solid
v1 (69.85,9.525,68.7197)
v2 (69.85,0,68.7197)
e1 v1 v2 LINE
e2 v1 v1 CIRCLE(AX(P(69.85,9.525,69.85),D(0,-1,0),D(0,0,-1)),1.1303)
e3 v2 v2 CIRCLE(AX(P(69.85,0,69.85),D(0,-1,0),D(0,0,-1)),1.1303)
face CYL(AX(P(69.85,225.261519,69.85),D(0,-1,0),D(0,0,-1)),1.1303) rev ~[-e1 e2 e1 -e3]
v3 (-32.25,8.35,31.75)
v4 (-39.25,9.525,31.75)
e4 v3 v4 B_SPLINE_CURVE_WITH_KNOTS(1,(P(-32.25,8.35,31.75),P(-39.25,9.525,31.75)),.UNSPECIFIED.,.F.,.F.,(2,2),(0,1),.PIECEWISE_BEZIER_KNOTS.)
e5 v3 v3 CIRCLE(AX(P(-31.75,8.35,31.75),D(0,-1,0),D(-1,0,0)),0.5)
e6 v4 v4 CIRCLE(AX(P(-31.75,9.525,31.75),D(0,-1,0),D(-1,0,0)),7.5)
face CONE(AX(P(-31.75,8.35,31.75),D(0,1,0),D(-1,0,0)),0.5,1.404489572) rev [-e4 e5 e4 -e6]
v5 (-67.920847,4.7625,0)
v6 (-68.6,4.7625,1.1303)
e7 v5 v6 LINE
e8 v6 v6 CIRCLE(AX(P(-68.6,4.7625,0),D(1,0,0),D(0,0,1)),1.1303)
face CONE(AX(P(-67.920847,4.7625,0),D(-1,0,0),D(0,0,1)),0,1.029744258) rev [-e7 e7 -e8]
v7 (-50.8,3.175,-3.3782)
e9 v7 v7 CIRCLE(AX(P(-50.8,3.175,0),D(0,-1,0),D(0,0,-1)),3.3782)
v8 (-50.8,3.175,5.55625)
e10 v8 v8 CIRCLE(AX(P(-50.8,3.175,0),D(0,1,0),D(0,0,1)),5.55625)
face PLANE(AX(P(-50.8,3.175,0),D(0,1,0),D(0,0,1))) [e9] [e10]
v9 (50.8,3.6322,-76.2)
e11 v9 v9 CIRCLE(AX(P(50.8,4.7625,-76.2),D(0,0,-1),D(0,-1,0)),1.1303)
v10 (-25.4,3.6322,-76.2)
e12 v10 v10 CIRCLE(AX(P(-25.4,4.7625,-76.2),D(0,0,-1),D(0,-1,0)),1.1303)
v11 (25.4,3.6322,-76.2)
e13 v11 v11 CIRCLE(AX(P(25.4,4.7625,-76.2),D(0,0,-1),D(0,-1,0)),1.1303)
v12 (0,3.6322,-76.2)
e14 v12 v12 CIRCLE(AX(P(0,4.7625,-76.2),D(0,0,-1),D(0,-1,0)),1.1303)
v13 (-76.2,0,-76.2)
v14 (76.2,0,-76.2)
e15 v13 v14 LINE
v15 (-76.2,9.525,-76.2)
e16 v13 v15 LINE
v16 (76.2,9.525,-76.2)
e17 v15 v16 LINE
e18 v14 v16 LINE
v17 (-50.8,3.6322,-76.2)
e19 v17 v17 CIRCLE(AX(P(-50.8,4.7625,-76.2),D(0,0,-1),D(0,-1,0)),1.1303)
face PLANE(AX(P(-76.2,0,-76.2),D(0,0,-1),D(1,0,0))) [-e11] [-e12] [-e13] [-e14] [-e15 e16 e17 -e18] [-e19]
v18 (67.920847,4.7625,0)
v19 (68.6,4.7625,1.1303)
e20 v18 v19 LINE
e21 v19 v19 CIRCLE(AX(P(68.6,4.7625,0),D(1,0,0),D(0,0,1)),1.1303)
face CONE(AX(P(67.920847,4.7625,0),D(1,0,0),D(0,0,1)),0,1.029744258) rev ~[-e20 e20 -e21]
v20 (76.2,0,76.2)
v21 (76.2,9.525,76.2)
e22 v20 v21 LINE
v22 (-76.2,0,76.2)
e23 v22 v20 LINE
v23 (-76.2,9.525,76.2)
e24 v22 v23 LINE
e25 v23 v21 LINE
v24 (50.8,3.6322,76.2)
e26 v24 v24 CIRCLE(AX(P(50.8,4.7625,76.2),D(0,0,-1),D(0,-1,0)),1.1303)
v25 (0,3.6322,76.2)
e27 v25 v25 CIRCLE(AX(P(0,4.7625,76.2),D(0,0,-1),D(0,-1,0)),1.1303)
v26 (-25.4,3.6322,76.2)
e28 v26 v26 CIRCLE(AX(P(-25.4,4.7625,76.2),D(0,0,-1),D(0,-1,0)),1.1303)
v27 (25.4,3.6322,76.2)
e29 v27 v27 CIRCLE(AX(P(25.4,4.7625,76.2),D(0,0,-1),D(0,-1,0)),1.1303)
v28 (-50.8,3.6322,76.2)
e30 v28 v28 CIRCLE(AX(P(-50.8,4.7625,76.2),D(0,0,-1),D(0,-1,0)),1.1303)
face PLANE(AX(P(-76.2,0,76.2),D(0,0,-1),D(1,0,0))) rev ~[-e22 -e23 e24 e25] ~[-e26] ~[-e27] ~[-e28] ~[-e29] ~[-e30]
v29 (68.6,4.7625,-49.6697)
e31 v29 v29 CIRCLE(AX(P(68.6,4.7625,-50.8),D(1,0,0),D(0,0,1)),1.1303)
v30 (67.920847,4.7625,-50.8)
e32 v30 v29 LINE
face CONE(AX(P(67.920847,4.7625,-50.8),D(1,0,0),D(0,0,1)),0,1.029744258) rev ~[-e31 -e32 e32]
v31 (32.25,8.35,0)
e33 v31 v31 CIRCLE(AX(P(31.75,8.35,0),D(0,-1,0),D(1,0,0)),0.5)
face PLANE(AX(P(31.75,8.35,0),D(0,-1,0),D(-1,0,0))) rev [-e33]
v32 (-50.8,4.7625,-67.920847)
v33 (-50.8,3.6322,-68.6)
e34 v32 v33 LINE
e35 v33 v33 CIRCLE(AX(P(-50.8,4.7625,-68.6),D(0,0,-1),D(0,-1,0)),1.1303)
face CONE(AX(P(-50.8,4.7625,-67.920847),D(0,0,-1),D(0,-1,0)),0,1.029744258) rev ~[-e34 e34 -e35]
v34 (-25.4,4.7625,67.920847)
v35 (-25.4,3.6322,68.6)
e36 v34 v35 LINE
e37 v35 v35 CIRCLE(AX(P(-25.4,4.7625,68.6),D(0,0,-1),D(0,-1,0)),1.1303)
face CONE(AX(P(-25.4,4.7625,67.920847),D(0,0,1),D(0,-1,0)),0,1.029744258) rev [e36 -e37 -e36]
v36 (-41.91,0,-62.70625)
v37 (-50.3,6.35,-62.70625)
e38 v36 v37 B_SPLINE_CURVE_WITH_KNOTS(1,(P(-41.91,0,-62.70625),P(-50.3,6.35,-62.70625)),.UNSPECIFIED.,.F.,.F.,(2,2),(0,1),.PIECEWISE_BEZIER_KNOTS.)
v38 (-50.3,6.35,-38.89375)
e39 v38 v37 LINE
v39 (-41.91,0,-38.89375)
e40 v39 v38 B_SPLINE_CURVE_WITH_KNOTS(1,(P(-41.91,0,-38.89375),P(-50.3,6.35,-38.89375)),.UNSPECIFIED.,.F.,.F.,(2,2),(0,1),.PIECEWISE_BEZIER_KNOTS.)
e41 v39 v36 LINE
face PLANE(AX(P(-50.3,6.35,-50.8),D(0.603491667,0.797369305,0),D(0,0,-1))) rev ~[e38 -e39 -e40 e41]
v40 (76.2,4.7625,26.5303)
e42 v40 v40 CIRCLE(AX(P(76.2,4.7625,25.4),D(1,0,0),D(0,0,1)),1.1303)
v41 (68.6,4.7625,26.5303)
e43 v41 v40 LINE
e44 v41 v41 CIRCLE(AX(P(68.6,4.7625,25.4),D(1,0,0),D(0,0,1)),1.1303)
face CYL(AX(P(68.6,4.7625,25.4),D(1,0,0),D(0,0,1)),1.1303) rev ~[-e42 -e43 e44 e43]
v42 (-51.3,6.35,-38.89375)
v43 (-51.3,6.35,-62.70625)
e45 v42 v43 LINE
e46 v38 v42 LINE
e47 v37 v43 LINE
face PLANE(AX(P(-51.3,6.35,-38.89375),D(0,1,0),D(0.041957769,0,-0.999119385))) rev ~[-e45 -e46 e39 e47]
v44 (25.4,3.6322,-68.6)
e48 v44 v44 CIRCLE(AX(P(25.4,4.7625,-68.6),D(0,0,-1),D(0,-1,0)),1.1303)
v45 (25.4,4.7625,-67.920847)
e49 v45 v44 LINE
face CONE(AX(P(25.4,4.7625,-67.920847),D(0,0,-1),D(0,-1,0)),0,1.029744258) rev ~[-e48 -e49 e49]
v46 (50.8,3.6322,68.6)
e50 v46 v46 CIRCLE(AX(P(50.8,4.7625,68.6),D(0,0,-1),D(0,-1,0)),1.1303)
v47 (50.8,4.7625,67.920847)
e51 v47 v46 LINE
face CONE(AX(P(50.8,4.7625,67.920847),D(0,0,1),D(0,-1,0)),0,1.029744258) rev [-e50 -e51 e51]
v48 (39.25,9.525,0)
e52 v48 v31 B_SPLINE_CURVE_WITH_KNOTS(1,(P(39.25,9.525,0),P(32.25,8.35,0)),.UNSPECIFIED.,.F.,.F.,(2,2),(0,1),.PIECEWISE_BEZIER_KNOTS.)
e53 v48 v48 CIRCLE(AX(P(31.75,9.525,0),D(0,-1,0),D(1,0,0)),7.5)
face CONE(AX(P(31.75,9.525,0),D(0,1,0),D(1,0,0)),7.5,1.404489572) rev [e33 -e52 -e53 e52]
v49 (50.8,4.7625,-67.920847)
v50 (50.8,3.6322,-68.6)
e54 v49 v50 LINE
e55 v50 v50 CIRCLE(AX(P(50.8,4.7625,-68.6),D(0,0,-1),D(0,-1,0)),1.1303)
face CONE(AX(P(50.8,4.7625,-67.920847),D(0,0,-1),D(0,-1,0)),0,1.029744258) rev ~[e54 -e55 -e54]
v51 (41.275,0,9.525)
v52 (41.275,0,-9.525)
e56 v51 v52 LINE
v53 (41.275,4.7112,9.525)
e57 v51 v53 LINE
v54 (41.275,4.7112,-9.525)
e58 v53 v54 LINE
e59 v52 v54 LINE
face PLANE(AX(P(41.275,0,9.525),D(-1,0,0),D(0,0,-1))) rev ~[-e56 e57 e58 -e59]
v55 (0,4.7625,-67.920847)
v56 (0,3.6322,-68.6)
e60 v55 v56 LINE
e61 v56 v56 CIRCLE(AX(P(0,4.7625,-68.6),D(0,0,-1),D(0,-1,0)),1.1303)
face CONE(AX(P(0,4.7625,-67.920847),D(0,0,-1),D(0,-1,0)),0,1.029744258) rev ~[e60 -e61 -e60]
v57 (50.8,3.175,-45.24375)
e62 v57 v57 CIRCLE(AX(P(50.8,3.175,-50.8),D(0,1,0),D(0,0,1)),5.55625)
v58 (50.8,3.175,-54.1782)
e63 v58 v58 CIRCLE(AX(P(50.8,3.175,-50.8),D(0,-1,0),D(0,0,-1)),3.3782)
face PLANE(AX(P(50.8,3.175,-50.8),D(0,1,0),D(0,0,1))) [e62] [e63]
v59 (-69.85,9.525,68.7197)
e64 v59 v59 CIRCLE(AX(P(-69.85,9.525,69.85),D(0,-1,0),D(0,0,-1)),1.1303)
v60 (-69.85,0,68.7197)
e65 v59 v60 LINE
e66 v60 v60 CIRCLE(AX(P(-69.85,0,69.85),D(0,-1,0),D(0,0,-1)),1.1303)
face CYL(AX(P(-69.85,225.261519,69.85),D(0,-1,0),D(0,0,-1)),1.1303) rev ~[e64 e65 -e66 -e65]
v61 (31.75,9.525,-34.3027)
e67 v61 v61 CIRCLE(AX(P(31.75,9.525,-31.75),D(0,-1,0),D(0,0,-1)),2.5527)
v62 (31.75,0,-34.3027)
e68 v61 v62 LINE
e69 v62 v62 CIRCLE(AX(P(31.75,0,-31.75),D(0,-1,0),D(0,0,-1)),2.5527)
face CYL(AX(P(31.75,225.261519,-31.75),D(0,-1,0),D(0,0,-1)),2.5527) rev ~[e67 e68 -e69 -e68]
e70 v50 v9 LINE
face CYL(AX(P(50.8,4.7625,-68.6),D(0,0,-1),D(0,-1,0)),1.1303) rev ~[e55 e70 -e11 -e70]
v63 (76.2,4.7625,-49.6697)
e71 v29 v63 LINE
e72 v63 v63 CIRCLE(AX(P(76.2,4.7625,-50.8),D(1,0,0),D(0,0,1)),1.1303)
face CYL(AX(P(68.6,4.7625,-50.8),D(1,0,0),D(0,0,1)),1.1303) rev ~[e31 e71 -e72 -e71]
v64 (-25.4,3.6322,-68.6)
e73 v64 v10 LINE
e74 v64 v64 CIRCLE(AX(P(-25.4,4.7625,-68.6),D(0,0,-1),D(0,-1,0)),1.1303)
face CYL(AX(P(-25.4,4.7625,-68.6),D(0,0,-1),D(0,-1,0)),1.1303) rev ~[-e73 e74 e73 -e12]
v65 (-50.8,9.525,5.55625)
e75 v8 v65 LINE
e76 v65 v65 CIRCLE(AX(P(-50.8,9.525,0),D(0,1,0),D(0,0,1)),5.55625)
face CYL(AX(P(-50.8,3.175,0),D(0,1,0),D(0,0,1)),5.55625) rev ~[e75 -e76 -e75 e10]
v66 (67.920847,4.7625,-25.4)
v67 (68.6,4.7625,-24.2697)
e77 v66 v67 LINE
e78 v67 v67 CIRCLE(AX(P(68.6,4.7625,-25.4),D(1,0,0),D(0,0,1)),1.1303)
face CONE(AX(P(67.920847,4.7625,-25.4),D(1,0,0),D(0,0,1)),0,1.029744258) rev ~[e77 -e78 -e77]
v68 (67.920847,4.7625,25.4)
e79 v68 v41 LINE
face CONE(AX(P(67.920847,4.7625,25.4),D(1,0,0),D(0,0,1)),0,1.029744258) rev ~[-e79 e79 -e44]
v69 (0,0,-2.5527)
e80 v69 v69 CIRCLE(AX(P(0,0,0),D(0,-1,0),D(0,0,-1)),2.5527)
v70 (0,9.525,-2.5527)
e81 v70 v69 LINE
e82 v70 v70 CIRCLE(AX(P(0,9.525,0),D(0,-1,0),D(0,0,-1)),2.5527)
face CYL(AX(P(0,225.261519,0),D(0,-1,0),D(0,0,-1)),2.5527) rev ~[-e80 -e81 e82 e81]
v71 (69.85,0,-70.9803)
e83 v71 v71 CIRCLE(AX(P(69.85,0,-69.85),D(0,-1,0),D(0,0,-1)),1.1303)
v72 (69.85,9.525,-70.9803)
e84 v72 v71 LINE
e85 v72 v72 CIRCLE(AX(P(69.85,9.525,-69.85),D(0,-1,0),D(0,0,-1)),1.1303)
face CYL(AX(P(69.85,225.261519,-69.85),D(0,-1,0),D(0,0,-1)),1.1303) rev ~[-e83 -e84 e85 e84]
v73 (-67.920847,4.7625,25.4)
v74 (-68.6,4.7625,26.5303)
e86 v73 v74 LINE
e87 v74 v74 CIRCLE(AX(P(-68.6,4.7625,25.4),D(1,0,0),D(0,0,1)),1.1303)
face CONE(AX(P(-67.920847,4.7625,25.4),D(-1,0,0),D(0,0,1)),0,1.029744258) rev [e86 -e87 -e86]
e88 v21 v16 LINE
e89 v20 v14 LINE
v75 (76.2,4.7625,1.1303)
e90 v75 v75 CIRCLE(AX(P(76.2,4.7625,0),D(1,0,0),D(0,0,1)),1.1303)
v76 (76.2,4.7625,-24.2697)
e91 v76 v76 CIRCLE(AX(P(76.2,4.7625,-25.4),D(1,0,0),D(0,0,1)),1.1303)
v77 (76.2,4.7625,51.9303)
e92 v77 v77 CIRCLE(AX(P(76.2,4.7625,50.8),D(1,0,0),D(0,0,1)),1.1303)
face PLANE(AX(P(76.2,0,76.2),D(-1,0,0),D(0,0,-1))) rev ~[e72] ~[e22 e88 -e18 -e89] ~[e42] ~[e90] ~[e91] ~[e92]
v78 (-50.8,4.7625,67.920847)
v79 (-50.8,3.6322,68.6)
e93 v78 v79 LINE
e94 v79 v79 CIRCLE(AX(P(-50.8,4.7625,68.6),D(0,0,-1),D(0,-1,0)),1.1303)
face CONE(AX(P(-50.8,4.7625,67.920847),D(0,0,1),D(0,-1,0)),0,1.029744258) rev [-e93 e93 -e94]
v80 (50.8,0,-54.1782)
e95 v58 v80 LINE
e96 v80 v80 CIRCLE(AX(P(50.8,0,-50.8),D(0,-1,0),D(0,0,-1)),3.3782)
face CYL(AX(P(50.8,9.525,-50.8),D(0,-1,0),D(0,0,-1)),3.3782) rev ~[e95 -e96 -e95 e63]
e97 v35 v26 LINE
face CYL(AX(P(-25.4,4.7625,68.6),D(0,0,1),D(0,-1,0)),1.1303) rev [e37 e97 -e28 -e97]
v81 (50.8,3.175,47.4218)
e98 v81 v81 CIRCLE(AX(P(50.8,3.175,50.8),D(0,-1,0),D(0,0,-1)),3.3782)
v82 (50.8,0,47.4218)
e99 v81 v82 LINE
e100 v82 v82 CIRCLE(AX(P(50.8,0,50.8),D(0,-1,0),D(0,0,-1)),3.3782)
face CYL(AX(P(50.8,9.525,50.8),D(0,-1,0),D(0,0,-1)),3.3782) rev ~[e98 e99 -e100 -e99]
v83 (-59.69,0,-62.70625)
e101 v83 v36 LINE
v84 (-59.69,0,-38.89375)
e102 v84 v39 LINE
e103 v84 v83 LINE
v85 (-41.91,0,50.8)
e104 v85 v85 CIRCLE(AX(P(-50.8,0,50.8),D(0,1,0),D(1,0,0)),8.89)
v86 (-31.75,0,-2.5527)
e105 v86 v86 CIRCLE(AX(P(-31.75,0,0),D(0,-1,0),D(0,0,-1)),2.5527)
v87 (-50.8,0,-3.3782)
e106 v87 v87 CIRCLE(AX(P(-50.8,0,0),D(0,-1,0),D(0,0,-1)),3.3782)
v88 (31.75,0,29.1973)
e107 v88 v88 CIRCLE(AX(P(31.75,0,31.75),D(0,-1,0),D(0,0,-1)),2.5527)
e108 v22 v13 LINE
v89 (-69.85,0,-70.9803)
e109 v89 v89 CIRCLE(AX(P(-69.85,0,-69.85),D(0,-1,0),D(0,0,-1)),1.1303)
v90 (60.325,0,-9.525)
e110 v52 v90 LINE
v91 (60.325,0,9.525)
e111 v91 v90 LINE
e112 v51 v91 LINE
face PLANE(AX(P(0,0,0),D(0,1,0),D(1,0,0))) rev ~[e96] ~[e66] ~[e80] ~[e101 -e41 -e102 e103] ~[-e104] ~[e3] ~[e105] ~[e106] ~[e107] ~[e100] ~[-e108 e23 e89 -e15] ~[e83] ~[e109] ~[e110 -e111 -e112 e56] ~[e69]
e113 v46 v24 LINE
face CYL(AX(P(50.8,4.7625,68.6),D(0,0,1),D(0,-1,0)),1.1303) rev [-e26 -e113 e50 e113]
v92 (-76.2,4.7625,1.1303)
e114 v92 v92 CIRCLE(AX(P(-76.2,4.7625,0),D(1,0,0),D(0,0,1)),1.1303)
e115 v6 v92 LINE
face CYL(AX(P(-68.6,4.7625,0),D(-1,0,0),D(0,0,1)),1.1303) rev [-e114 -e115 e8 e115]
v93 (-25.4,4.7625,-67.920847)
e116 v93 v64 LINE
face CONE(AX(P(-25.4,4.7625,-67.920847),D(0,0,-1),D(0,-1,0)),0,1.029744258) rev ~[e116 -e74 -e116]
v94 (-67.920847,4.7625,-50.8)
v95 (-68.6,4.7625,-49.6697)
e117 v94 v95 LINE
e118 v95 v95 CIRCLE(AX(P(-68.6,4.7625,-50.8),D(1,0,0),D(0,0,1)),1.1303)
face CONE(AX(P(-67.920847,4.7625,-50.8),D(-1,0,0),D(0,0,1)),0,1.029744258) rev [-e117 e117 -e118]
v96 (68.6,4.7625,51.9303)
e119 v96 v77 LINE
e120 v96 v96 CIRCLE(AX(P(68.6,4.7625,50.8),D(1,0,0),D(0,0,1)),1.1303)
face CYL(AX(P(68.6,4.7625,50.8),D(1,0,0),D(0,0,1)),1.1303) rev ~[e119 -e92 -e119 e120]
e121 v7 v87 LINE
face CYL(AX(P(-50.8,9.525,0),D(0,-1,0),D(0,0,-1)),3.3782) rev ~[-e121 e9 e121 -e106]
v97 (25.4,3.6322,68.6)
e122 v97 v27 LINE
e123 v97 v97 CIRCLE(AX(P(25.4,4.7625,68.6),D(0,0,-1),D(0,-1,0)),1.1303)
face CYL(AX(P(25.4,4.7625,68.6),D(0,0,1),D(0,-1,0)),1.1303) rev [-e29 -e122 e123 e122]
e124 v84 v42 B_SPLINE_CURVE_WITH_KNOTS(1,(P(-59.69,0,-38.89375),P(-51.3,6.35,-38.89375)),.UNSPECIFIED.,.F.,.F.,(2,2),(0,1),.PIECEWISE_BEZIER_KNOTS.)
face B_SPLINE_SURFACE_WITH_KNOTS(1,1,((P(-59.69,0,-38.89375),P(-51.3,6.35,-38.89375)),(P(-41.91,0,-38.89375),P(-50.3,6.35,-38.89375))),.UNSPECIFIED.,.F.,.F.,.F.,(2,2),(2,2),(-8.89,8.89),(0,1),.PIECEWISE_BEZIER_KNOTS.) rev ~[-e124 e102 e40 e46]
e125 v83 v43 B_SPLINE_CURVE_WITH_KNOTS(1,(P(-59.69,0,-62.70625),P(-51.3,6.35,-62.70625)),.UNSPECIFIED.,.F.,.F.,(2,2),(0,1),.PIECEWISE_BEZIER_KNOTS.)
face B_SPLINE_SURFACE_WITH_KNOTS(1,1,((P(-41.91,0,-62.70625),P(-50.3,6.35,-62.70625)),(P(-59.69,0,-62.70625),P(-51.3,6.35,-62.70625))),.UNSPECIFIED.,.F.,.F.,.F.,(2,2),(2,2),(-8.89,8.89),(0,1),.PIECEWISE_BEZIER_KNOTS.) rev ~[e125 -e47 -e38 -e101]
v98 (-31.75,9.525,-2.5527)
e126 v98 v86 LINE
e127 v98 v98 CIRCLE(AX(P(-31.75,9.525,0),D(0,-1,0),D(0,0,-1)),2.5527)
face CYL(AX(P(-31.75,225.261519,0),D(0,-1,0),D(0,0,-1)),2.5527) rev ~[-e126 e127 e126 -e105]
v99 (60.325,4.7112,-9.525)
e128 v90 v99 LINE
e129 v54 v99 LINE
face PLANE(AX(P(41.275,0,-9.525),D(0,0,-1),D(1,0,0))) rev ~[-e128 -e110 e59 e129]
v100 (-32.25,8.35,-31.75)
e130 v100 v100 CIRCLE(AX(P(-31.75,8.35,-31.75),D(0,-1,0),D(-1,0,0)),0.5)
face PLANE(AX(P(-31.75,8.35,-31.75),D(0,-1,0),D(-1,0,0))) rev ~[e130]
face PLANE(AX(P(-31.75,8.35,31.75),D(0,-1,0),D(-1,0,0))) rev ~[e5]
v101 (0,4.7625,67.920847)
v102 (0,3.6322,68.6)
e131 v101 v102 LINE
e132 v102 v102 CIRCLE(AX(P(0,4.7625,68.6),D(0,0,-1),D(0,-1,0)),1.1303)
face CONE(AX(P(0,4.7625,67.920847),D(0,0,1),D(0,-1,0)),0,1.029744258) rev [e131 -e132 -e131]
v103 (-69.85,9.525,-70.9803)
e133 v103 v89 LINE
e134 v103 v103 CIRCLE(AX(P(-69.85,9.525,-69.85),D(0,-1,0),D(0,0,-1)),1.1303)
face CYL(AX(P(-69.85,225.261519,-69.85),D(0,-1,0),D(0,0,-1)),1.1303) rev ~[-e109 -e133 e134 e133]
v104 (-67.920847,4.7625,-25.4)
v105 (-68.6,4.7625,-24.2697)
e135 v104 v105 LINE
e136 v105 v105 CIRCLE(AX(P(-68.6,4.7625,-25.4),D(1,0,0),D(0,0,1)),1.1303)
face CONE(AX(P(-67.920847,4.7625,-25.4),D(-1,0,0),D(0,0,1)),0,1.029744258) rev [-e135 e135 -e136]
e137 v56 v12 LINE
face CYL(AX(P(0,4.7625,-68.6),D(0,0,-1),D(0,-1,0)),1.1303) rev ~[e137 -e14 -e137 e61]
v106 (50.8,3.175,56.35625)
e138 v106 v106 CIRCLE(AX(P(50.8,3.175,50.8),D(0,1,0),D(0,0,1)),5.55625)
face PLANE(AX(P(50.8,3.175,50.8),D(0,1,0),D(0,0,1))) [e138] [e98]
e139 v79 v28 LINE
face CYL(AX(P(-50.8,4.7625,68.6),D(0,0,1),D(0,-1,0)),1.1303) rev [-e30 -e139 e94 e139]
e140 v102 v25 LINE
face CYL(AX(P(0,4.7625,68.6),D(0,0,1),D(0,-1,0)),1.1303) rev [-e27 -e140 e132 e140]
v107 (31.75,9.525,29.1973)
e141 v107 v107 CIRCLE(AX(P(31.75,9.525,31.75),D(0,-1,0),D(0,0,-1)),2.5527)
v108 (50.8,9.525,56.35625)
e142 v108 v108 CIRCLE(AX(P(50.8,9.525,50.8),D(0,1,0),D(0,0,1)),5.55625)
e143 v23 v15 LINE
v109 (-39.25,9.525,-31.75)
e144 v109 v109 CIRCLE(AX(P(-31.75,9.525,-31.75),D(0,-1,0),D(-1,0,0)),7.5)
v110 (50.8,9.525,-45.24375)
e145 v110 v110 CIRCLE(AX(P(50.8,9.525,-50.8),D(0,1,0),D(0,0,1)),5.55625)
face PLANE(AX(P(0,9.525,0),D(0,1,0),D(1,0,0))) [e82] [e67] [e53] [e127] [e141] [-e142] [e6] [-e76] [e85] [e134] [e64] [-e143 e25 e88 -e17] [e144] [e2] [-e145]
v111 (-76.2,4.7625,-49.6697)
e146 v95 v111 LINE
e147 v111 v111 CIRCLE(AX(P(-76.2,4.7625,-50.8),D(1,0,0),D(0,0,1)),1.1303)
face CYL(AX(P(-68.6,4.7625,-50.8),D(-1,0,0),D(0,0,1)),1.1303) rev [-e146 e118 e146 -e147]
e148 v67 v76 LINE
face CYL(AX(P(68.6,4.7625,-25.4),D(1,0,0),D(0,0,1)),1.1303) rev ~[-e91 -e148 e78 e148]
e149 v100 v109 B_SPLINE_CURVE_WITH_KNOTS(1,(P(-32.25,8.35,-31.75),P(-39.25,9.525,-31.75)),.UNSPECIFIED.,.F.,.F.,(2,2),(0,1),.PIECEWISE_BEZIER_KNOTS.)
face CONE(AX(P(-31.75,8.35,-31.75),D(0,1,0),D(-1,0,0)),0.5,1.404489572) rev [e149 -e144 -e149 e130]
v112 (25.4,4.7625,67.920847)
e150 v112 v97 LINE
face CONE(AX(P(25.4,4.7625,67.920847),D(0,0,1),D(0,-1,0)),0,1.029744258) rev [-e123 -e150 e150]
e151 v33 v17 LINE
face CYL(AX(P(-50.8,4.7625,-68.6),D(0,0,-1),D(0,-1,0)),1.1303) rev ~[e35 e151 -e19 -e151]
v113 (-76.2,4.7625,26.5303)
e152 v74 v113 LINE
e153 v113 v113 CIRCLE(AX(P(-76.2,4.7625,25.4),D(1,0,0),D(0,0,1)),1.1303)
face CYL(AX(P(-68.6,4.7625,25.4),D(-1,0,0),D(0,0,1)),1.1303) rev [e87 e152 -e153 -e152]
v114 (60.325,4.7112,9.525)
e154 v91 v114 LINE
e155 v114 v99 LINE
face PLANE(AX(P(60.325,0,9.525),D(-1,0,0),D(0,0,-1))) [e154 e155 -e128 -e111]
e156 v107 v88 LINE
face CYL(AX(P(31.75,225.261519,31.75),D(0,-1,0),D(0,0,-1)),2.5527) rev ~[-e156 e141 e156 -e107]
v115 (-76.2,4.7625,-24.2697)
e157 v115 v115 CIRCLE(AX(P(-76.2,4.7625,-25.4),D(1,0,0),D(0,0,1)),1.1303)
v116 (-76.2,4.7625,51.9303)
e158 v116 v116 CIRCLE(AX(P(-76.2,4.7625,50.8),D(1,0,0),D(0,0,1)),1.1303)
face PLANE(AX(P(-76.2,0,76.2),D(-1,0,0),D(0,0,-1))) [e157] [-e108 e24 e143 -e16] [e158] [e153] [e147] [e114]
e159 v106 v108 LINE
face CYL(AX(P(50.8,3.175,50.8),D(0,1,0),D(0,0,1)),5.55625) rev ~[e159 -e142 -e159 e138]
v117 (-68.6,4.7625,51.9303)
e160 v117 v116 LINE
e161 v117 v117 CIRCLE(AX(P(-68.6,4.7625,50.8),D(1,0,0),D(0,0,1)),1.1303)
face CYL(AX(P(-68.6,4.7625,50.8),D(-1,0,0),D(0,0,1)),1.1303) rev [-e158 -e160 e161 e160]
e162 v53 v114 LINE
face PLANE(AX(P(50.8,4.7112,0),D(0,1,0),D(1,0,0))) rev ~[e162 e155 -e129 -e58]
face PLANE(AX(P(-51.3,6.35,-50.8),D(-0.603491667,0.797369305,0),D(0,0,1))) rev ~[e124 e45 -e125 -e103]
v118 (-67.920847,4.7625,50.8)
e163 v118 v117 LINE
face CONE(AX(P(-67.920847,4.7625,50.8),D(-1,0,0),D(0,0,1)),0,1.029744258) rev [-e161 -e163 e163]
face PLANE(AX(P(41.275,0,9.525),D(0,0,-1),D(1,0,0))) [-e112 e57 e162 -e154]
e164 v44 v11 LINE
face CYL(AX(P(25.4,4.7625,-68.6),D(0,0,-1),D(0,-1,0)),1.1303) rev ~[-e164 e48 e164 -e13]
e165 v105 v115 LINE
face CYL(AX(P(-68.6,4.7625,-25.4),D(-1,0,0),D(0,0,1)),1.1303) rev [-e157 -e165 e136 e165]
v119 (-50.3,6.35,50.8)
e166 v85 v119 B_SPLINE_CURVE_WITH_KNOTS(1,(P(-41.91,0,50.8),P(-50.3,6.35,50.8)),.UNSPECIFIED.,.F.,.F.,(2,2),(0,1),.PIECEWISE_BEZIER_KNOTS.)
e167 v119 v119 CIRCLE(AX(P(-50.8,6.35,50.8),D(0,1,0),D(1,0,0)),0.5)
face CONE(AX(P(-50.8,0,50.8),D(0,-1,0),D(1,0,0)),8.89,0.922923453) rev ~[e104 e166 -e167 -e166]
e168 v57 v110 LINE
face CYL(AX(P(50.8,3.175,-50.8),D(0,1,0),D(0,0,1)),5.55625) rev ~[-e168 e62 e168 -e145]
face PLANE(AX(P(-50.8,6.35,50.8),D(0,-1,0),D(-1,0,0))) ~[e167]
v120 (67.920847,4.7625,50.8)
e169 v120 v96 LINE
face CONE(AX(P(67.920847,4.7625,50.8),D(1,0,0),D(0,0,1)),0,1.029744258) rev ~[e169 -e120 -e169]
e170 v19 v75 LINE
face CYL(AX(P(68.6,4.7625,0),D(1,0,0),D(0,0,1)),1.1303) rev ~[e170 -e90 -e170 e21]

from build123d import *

# Parameters (mm, degrees)
PLATES_DIMS_W                                    = 152.4
PLATES_DIMS_H                                    = 152.4
PLATE_THICKNESS_DEPTH                            = 9.525
F_4_40_TAPPED_HOLE1_D                            = 2.2606
LPATTERN1_COUNT                                  = 2
LPATTERN1_PITCH                                  = 139.7
LPATTERN1_COUNT_DIR2                             = 2
LPATTERN1_PITCH_DIR2                             = 139.7
LPATTERN3_COUNT                                  = 5
LPATTERN3_PITCH                                  = 25.4
LPATTERN4_COUNT                                  = 5
LPATTERN4_PITCH                                  = 25.4
BOTTOM_CONE_R                                    = 8.89
TOP_CONE_R                                       = 0.5
BOTTOM_GROOVE_W                                  = 17.78
BOTTOM_GROOVE_H                                  = 23.8125
TOP_GROOVE_W                                     = 1
TOP_GROOVE_H                                     = 23.8125
FLAT_DIMS_W                                      = 19.05
FLAT_DIMS_H                                      = 19.05
FLAT_CUT_LENGTH_DEPTH                            = 4.7112
F_1_4_20_TAPPED_HOLE2_D                          = 5.1054
CBORE_FOR_1_4_SOCKET_HEAD_CAP_SCREW1_D           = 6.7564
CBORE_FOR_1_4_SOCKET_HEAD_CAP_SCREW1_CBORE_D     = 11.1125
CBORE_FOR_1_4_SOCKET_HEAD_CAP_SCREW1_CBORE_DEPTH = 6.35
REST_TOP_CIRCLE_X_R                              = 7.5
REST_BOTTOM_CIRCLE_X_R                           = 0.5
REST_BOTTOM_CIRCLE_X_Z_R                         = 0.5
REST_TOP_CIRCLE_X_Z_R                            = 7.5
REST_BOTTOM_CIRCLE_X_Z_2_R                       = 0.5
REST_TOP_CIRCLE_X_Z_2_R                          = 7.5


with BuildPart() as part:
    # Plates_Dims → Plate_Thickness (new body)
    with BuildSketch(Plane(origin=(0, 0, 0), x_dir=(1, 0, 0), z_dir=(0, 1, 0))):
        Rectangle(PLATES_DIMS_W, PLATES_DIMS_H)
    extrude(amount=PLATE_THICKNESS_DEPTH)

    # #4-40 Tapped Hole1 (through all)
    with Locations(Plane(origin=(69.85, 9.525, 69.85), x_dir=(0, 0, 1), z_dir=(0, 1, 0))):
        with Locations((0, 0)):
            f_4_40_tapped_hole1 = Hole(F_4_40_TAPPED_HOLE1_D / 2)

    # LPattern1: 4-40 Tapped Hole1 2 × 2
    with Locations(*[(-j * LPATTERN1_PITCH_DIR2, 0, -i * LPATTERN1_PITCH) for i in range(LPATTERN1_COUNT) for j in range(LPATTERN1_COUNT_DIR2) if (i, j) != (0, 0)]):
        add(f_4_40_tapped_hole1, mode=Mode.SUBTRACT)

    # Sketch5 → #4-40 Tapped Hole3 (revolve, cut)
    with BuildSketch(Plane(origin=(-50.8, 4.7625, 76.2), x_dir=(0, -1, 0), z_dir=(1, 0, 0))):
        Polygon((0, 0), (0, 8.279152758), (1.1303, 7.6), (1.1303, 0), align=None)
    f_4_40_tapped_hole3 = revolve(axis=Axis((-50.8, 4.7625, 82.55), (0, 0, -1)), mode=Mode.SUBTRACT)

    # LPattern3: #4-40 Tapped Hole3 ×5
    with Locations(*[(i * LPATTERN3_PITCH, 0, 0) for i in range(1, LPATTERN3_COUNT)]):
        add(f_4_40_tapped_hole3, mode=Mode.SUBTRACT)

    # Sketch6 → #4-40 Tapped Hole4 (revolve, cut)
    with BuildSketch(Plane(origin=(-76.2, 4.7625, -50.8), x_dir=(0, 0, 1), z_dir=(0, 1, 0))):
        Polygon((0, 0), (0, 8.279152758), (1.1303, 7.6), (1.1303, 0), align=None)
    f_4_40_tapped_hole4 = revolve(axis=Axis((-82.55, 4.7625, -50.8), (1, 0, 0)), mode=Mode.SUBTRACT)

    # LPattern4: #4-40 Tapped Hole4 ×5
    with Locations(*[(0, 0, i * LPATTERN4_PITCH) for i in range(1, LPATTERN4_COUNT)]):
        add(f_4_40_tapped_hole4, mode=Mode.SUBTRACT)

    # Mirrior_Y: #4-40 Tapped Hole3 across plane
    add(f_4_40_tapped_hole3.mirror(Plane(origin=(0, 0, 0), x_dir=(1, 0, 0), z_dir=(0, 0, -1))), mode=Mode.SUBTRACT)

    # Mirrior_Y copy 1 sketch → Mirrior_Y copy 1 (revolve, cut)
    with BuildSketch(Plane(origin=(-25.4, 4.7625, -76.2), x_dir=(0, -1, 0), z_dir=(1, 0, 0))):
        Polygon((0, 0), (0, -8.279152758), (1.1303, -7.6), (1.1303, 0), align=None)
    revolve(axis=Axis((-25.4, 4.7625, -82.55), (0, 0, -1)), mode=Mode.SUBTRACT)

    # Mirrior_Y copy 2 sketch → Mirrior_Y copy 2 (revolve, cut)
    with BuildSketch(Plane(origin=(0, 4.7625, -76.2), x_dir=(0, -1, 0), z_dir=(1, 0, 0))):
        Polygon((0, 0), (0, -8.279152758), (1.1303, -7.6), (1.1303, 0), align=None)
    revolve(axis=Axis((0, 4.7625, -82.55), (0, 0, -1)), mode=Mode.SUBTRACT)

    # Mirrior_Y copy 3 sketch → Mirrior_Y copy 3 (revolve, cut)
    with BuildSketch(Plane(origin=(25.4, 4.7625, -76.2), x_dir=(0, -1, 0), z_dir=(1, 0, 0))):
        Polygon((0, 0), (0, -8.279152758), (1.1303, -7.6), (1.1303, 0), align=None)
    revolve(axis=Axis((25.4, 4.7625, -82.55), (0, 0, -1)), mode=Mode.SUBTRACT)

    # Mirrior_Y copy 4 sketch → Mirrior_Y copy 4 (revolve, cut)
    with BuildSketch(Plane(origin=(50.8, 4.7625, -76.2), x_dir=(0, -1, 0), z_dir=(1, 0, 0))):
        Polygon((0, 0), (0, -8.279152758), (1.1303, -7.6), (1.1303, 0), align=None)
    revolve(axis=Axis((50.8, 4.7625, -82.55), (0, 0, -1)), mode=Mode.SUBTRACT)

    # Mirror_X: #4-40 Tapped Hole4 across plane
    add(f_4_40_tapped_hole4.mirror(Plane.ZY), mode=Mode.SUBTRACT)

    # Mirror_X copy 1 sketch → Mirror_X copy 1 (revolve, cut)
    with BuildSketch(Plane(origin=(76.2, 4.7625, -25.4), x_dir=(0, 0, 1), z_dir=(0, 1, 0))):
        Polygon((0, 0), (0, -8.279152758), (1.1303, -7.6), (1.1303, 0), align=None)
    revolve(axis=Axis((82.55, 4.7625, -25.4), (1, 0, 0)), mode=Mode.SUBTRACT)

    # Mirror_X copy 2 sketch → Mirror_X copy 2 (revolve, cut)
    with BuildSketch(Plane(origin=(76.2, 4.7625, 0), x_dir=(0, 0, 1), z_dir=(0, 1, 0))):
        Polygon((0, 0), (0, -8.279152758), (1.1303, -7.6), (1.1303, 0), align=None)
    revolve(axis=Axis((82.55, 4.7625, 0), (1, 0, 0)), mode=Mode.SUBTRACT)

    # Mirror_X copy 3 sketch → Mirror_X copy 3 (revolve, cut)
    with BuildSketch(Plane(origin=(76.2, 4.7625, 25.4), x_dir=(0, 0, 1), z_dir=(0, 1, 0))):
        Polygon((0, 0), (0, -8.279152758), (1.1303, -7.6), (1.1303, 0), align=None)
    revolve(axis=Axis((82.55, 4.7625, 25.4), (1, 0, 0)), mode=Mode.SUBTRACT)

    # Mirror_X copy 4 sketch → Mirror_X copy 4 (revolve, cut)
    with BuildSketch(Plane(origin=(76.2, 4.7625, 50.8), x_dir=(0, 0, 1), z_dir=(0, 1, 0))):
        Polygon((0, 0), (0, -8.279152758), (1.1303, -7.6), (1.1303, 0), align=None)
    revolve(axis=Axis((82.55, 4.7625, 50.8), (1, 0, 0)), mode=Mode.SUBTRACT)

    # Bottom_Cone → Cone_Cut section 0
    with BuildSketch(Plane(origin=(0, 0, 0), x_dir=(1, 0, 0), z_dir=(0, 1, 0))):
        with Locations((-50.8, -50.8)):
            Circle(BOTTOM_CONE_R)
    # Top_Cone → Cone_Cut section 1
    with BuildSketch(Plane(origin=(0, 6.35, 0), x_dir=(-1, 0, 0), z_dir=(0, -1, 0))):
        with Locations((50.8, -50.8)):
            Circle(TOP_CONE_R)
    loft(mode=Mode.SUBTRACT)

    # Bottom_Groove → Groove_Cut section 0
    with BuildSketch(Plane(origin=(0, 0, 0), x_dir=(1, 0, 0), z_dir=(0, 1, 0))):
        with Locations((-50.8, 50.8)):
            Rectangle(BOTTOM_GROOVE_W, BOTTOM_GROOVE_H)
    # Top_Groove → Groove_Cut section 1
    with BuildSketch(Plane(origin=(0, 6.35, 0), x_dir=(-1, 0, 0), z_dir=(0, -1, 0))):
        with Locations((50.8, 50.8)):
            Rectangle(TOP_GROOVE_W, TOP_GROOVE_H)
    loft(mode=Mode.SUBTRACT)

    # Flat_Dims → Flat_Cut_Length (cut)
    with BuildSketch(Plane(origin=(0, 0, 0), x_dir=(1, 0, 0), z_dir=(0, 1, 0))):
        with Locations((50.8, 0)):
            Rectangle(FLAT_DIMS_W, FLAT_DIMS_H)
    extrude(amount=FLAT_CUT_LENGTH_DEPTH, mode=Mode.SUBTRACT)

    # 1/4-20 Tapped Hole2 (through all)
    with Locations(Plane(origin=(-31.75, 9.525, 0), x_dir=(0, 0, 1), z_dir=(0, 1, 0))):
        with Locations((0, 0), (0, 31.75), (31.75, 63.5), (-31.75, 63.5)):
            Hole(F_1_4_20_TAPPED_HOLE2_D / 2)

    # CBORE for 1/4 Socket Head Cap Screw1 (through all)
    with Locations(Plane(origin=(-50.8, 9.525, 0), x_dir=(0, 0, 1), z_dir=(0, 1, 0))):
        with Locations((0, 0), (50.8, 101.6), (-50.8, 101.6)):
            CounterBoreHole(CBORE_FOR_1_4_SOCKET_HEAD_CAP_SCREW1_D / 2, CBORE_FOR_1_4_SOCKET_HEAD_CAP_SCREW1_CBORE_D / 2, CBORE_FOR_1_4_SOCKET_HEAD_CAP_SCREW1_CBORE_DEPTH)

    # Rest_Top_Circle_X → Cut-Loft8 section 0
    with BuildSketch(Plane(origin=(0, 9.525, 0), x_dir=(1, 0, 0), z_dir=(0, 1, 0))):
        with Locations((31.75, 0)):
            Circle(REST_TOP_CIRCLE_X_R)
    # Rest_Bottom_Circle_X → Cut-Loft8 section 1
    with BuildSketch(Plane(origin=(0, 8.35, 0), x_dir=(-1, 0, 0), z_dir=(0, -1, 0))):
        with Locations((-31.75, 0)):
            Circle(REST_BOTTOM_CIRCLE_X_R)
    loft(mode=Mode.SUBTRACT)

    # Rest_Bottom_Circle_X-Z → Cut-Loft9 section 0
    with BuildSketch(Plane(origin=(0, 8.35, 0), x_dir=(-1, 0, 0), z_dir=(0, -1, 0))):
        with Locations((31.75, -31.75)):
            Circle(REST_BOTTOM_CIRCLE_X_Z_R)
    # Rest_Top_Circle_X-Z → Cut-Loft9 section 1
    with BuildSketch(Plane(origin=(0, 9.525, 0), x_dir=(1, 0, 0), z_dir=(0, 1, 0))):
        with Locations((-31.75, -31.75)):
            Circle(REST_TOP_CIRCLE_X_Z_R)
    loft(mode=Mode.SUBTRACT)

    # Rest_Bottom_Circle_X-Z 2 → Cut-Loft10 section 0
    with BuildSketch(Plane(origin=(0, 8.35, 0), x_dir=(-1, 0, 0), z_dir=(0, -1, 0))):
        with Locations((31.75, 31.75)):
            Circle(REST_BOTTOM_CIRCLE_X_Z_2_R)
    # Rest_Top_Circle_X-Z 2 → Cut-Loft10 section 1
    with BuildSketch(Plane(origin=(0, 9.525, 0), x_dir=(1, 0, 0), z_dir=(0, 1, 0))):
        with Locations((-31.75, 31.75)):
            Circle(REST_TOP_CIRCLE_X_Z_2_R)
    loft(mode=Mode.SUBTRACT)


solid = part.part
